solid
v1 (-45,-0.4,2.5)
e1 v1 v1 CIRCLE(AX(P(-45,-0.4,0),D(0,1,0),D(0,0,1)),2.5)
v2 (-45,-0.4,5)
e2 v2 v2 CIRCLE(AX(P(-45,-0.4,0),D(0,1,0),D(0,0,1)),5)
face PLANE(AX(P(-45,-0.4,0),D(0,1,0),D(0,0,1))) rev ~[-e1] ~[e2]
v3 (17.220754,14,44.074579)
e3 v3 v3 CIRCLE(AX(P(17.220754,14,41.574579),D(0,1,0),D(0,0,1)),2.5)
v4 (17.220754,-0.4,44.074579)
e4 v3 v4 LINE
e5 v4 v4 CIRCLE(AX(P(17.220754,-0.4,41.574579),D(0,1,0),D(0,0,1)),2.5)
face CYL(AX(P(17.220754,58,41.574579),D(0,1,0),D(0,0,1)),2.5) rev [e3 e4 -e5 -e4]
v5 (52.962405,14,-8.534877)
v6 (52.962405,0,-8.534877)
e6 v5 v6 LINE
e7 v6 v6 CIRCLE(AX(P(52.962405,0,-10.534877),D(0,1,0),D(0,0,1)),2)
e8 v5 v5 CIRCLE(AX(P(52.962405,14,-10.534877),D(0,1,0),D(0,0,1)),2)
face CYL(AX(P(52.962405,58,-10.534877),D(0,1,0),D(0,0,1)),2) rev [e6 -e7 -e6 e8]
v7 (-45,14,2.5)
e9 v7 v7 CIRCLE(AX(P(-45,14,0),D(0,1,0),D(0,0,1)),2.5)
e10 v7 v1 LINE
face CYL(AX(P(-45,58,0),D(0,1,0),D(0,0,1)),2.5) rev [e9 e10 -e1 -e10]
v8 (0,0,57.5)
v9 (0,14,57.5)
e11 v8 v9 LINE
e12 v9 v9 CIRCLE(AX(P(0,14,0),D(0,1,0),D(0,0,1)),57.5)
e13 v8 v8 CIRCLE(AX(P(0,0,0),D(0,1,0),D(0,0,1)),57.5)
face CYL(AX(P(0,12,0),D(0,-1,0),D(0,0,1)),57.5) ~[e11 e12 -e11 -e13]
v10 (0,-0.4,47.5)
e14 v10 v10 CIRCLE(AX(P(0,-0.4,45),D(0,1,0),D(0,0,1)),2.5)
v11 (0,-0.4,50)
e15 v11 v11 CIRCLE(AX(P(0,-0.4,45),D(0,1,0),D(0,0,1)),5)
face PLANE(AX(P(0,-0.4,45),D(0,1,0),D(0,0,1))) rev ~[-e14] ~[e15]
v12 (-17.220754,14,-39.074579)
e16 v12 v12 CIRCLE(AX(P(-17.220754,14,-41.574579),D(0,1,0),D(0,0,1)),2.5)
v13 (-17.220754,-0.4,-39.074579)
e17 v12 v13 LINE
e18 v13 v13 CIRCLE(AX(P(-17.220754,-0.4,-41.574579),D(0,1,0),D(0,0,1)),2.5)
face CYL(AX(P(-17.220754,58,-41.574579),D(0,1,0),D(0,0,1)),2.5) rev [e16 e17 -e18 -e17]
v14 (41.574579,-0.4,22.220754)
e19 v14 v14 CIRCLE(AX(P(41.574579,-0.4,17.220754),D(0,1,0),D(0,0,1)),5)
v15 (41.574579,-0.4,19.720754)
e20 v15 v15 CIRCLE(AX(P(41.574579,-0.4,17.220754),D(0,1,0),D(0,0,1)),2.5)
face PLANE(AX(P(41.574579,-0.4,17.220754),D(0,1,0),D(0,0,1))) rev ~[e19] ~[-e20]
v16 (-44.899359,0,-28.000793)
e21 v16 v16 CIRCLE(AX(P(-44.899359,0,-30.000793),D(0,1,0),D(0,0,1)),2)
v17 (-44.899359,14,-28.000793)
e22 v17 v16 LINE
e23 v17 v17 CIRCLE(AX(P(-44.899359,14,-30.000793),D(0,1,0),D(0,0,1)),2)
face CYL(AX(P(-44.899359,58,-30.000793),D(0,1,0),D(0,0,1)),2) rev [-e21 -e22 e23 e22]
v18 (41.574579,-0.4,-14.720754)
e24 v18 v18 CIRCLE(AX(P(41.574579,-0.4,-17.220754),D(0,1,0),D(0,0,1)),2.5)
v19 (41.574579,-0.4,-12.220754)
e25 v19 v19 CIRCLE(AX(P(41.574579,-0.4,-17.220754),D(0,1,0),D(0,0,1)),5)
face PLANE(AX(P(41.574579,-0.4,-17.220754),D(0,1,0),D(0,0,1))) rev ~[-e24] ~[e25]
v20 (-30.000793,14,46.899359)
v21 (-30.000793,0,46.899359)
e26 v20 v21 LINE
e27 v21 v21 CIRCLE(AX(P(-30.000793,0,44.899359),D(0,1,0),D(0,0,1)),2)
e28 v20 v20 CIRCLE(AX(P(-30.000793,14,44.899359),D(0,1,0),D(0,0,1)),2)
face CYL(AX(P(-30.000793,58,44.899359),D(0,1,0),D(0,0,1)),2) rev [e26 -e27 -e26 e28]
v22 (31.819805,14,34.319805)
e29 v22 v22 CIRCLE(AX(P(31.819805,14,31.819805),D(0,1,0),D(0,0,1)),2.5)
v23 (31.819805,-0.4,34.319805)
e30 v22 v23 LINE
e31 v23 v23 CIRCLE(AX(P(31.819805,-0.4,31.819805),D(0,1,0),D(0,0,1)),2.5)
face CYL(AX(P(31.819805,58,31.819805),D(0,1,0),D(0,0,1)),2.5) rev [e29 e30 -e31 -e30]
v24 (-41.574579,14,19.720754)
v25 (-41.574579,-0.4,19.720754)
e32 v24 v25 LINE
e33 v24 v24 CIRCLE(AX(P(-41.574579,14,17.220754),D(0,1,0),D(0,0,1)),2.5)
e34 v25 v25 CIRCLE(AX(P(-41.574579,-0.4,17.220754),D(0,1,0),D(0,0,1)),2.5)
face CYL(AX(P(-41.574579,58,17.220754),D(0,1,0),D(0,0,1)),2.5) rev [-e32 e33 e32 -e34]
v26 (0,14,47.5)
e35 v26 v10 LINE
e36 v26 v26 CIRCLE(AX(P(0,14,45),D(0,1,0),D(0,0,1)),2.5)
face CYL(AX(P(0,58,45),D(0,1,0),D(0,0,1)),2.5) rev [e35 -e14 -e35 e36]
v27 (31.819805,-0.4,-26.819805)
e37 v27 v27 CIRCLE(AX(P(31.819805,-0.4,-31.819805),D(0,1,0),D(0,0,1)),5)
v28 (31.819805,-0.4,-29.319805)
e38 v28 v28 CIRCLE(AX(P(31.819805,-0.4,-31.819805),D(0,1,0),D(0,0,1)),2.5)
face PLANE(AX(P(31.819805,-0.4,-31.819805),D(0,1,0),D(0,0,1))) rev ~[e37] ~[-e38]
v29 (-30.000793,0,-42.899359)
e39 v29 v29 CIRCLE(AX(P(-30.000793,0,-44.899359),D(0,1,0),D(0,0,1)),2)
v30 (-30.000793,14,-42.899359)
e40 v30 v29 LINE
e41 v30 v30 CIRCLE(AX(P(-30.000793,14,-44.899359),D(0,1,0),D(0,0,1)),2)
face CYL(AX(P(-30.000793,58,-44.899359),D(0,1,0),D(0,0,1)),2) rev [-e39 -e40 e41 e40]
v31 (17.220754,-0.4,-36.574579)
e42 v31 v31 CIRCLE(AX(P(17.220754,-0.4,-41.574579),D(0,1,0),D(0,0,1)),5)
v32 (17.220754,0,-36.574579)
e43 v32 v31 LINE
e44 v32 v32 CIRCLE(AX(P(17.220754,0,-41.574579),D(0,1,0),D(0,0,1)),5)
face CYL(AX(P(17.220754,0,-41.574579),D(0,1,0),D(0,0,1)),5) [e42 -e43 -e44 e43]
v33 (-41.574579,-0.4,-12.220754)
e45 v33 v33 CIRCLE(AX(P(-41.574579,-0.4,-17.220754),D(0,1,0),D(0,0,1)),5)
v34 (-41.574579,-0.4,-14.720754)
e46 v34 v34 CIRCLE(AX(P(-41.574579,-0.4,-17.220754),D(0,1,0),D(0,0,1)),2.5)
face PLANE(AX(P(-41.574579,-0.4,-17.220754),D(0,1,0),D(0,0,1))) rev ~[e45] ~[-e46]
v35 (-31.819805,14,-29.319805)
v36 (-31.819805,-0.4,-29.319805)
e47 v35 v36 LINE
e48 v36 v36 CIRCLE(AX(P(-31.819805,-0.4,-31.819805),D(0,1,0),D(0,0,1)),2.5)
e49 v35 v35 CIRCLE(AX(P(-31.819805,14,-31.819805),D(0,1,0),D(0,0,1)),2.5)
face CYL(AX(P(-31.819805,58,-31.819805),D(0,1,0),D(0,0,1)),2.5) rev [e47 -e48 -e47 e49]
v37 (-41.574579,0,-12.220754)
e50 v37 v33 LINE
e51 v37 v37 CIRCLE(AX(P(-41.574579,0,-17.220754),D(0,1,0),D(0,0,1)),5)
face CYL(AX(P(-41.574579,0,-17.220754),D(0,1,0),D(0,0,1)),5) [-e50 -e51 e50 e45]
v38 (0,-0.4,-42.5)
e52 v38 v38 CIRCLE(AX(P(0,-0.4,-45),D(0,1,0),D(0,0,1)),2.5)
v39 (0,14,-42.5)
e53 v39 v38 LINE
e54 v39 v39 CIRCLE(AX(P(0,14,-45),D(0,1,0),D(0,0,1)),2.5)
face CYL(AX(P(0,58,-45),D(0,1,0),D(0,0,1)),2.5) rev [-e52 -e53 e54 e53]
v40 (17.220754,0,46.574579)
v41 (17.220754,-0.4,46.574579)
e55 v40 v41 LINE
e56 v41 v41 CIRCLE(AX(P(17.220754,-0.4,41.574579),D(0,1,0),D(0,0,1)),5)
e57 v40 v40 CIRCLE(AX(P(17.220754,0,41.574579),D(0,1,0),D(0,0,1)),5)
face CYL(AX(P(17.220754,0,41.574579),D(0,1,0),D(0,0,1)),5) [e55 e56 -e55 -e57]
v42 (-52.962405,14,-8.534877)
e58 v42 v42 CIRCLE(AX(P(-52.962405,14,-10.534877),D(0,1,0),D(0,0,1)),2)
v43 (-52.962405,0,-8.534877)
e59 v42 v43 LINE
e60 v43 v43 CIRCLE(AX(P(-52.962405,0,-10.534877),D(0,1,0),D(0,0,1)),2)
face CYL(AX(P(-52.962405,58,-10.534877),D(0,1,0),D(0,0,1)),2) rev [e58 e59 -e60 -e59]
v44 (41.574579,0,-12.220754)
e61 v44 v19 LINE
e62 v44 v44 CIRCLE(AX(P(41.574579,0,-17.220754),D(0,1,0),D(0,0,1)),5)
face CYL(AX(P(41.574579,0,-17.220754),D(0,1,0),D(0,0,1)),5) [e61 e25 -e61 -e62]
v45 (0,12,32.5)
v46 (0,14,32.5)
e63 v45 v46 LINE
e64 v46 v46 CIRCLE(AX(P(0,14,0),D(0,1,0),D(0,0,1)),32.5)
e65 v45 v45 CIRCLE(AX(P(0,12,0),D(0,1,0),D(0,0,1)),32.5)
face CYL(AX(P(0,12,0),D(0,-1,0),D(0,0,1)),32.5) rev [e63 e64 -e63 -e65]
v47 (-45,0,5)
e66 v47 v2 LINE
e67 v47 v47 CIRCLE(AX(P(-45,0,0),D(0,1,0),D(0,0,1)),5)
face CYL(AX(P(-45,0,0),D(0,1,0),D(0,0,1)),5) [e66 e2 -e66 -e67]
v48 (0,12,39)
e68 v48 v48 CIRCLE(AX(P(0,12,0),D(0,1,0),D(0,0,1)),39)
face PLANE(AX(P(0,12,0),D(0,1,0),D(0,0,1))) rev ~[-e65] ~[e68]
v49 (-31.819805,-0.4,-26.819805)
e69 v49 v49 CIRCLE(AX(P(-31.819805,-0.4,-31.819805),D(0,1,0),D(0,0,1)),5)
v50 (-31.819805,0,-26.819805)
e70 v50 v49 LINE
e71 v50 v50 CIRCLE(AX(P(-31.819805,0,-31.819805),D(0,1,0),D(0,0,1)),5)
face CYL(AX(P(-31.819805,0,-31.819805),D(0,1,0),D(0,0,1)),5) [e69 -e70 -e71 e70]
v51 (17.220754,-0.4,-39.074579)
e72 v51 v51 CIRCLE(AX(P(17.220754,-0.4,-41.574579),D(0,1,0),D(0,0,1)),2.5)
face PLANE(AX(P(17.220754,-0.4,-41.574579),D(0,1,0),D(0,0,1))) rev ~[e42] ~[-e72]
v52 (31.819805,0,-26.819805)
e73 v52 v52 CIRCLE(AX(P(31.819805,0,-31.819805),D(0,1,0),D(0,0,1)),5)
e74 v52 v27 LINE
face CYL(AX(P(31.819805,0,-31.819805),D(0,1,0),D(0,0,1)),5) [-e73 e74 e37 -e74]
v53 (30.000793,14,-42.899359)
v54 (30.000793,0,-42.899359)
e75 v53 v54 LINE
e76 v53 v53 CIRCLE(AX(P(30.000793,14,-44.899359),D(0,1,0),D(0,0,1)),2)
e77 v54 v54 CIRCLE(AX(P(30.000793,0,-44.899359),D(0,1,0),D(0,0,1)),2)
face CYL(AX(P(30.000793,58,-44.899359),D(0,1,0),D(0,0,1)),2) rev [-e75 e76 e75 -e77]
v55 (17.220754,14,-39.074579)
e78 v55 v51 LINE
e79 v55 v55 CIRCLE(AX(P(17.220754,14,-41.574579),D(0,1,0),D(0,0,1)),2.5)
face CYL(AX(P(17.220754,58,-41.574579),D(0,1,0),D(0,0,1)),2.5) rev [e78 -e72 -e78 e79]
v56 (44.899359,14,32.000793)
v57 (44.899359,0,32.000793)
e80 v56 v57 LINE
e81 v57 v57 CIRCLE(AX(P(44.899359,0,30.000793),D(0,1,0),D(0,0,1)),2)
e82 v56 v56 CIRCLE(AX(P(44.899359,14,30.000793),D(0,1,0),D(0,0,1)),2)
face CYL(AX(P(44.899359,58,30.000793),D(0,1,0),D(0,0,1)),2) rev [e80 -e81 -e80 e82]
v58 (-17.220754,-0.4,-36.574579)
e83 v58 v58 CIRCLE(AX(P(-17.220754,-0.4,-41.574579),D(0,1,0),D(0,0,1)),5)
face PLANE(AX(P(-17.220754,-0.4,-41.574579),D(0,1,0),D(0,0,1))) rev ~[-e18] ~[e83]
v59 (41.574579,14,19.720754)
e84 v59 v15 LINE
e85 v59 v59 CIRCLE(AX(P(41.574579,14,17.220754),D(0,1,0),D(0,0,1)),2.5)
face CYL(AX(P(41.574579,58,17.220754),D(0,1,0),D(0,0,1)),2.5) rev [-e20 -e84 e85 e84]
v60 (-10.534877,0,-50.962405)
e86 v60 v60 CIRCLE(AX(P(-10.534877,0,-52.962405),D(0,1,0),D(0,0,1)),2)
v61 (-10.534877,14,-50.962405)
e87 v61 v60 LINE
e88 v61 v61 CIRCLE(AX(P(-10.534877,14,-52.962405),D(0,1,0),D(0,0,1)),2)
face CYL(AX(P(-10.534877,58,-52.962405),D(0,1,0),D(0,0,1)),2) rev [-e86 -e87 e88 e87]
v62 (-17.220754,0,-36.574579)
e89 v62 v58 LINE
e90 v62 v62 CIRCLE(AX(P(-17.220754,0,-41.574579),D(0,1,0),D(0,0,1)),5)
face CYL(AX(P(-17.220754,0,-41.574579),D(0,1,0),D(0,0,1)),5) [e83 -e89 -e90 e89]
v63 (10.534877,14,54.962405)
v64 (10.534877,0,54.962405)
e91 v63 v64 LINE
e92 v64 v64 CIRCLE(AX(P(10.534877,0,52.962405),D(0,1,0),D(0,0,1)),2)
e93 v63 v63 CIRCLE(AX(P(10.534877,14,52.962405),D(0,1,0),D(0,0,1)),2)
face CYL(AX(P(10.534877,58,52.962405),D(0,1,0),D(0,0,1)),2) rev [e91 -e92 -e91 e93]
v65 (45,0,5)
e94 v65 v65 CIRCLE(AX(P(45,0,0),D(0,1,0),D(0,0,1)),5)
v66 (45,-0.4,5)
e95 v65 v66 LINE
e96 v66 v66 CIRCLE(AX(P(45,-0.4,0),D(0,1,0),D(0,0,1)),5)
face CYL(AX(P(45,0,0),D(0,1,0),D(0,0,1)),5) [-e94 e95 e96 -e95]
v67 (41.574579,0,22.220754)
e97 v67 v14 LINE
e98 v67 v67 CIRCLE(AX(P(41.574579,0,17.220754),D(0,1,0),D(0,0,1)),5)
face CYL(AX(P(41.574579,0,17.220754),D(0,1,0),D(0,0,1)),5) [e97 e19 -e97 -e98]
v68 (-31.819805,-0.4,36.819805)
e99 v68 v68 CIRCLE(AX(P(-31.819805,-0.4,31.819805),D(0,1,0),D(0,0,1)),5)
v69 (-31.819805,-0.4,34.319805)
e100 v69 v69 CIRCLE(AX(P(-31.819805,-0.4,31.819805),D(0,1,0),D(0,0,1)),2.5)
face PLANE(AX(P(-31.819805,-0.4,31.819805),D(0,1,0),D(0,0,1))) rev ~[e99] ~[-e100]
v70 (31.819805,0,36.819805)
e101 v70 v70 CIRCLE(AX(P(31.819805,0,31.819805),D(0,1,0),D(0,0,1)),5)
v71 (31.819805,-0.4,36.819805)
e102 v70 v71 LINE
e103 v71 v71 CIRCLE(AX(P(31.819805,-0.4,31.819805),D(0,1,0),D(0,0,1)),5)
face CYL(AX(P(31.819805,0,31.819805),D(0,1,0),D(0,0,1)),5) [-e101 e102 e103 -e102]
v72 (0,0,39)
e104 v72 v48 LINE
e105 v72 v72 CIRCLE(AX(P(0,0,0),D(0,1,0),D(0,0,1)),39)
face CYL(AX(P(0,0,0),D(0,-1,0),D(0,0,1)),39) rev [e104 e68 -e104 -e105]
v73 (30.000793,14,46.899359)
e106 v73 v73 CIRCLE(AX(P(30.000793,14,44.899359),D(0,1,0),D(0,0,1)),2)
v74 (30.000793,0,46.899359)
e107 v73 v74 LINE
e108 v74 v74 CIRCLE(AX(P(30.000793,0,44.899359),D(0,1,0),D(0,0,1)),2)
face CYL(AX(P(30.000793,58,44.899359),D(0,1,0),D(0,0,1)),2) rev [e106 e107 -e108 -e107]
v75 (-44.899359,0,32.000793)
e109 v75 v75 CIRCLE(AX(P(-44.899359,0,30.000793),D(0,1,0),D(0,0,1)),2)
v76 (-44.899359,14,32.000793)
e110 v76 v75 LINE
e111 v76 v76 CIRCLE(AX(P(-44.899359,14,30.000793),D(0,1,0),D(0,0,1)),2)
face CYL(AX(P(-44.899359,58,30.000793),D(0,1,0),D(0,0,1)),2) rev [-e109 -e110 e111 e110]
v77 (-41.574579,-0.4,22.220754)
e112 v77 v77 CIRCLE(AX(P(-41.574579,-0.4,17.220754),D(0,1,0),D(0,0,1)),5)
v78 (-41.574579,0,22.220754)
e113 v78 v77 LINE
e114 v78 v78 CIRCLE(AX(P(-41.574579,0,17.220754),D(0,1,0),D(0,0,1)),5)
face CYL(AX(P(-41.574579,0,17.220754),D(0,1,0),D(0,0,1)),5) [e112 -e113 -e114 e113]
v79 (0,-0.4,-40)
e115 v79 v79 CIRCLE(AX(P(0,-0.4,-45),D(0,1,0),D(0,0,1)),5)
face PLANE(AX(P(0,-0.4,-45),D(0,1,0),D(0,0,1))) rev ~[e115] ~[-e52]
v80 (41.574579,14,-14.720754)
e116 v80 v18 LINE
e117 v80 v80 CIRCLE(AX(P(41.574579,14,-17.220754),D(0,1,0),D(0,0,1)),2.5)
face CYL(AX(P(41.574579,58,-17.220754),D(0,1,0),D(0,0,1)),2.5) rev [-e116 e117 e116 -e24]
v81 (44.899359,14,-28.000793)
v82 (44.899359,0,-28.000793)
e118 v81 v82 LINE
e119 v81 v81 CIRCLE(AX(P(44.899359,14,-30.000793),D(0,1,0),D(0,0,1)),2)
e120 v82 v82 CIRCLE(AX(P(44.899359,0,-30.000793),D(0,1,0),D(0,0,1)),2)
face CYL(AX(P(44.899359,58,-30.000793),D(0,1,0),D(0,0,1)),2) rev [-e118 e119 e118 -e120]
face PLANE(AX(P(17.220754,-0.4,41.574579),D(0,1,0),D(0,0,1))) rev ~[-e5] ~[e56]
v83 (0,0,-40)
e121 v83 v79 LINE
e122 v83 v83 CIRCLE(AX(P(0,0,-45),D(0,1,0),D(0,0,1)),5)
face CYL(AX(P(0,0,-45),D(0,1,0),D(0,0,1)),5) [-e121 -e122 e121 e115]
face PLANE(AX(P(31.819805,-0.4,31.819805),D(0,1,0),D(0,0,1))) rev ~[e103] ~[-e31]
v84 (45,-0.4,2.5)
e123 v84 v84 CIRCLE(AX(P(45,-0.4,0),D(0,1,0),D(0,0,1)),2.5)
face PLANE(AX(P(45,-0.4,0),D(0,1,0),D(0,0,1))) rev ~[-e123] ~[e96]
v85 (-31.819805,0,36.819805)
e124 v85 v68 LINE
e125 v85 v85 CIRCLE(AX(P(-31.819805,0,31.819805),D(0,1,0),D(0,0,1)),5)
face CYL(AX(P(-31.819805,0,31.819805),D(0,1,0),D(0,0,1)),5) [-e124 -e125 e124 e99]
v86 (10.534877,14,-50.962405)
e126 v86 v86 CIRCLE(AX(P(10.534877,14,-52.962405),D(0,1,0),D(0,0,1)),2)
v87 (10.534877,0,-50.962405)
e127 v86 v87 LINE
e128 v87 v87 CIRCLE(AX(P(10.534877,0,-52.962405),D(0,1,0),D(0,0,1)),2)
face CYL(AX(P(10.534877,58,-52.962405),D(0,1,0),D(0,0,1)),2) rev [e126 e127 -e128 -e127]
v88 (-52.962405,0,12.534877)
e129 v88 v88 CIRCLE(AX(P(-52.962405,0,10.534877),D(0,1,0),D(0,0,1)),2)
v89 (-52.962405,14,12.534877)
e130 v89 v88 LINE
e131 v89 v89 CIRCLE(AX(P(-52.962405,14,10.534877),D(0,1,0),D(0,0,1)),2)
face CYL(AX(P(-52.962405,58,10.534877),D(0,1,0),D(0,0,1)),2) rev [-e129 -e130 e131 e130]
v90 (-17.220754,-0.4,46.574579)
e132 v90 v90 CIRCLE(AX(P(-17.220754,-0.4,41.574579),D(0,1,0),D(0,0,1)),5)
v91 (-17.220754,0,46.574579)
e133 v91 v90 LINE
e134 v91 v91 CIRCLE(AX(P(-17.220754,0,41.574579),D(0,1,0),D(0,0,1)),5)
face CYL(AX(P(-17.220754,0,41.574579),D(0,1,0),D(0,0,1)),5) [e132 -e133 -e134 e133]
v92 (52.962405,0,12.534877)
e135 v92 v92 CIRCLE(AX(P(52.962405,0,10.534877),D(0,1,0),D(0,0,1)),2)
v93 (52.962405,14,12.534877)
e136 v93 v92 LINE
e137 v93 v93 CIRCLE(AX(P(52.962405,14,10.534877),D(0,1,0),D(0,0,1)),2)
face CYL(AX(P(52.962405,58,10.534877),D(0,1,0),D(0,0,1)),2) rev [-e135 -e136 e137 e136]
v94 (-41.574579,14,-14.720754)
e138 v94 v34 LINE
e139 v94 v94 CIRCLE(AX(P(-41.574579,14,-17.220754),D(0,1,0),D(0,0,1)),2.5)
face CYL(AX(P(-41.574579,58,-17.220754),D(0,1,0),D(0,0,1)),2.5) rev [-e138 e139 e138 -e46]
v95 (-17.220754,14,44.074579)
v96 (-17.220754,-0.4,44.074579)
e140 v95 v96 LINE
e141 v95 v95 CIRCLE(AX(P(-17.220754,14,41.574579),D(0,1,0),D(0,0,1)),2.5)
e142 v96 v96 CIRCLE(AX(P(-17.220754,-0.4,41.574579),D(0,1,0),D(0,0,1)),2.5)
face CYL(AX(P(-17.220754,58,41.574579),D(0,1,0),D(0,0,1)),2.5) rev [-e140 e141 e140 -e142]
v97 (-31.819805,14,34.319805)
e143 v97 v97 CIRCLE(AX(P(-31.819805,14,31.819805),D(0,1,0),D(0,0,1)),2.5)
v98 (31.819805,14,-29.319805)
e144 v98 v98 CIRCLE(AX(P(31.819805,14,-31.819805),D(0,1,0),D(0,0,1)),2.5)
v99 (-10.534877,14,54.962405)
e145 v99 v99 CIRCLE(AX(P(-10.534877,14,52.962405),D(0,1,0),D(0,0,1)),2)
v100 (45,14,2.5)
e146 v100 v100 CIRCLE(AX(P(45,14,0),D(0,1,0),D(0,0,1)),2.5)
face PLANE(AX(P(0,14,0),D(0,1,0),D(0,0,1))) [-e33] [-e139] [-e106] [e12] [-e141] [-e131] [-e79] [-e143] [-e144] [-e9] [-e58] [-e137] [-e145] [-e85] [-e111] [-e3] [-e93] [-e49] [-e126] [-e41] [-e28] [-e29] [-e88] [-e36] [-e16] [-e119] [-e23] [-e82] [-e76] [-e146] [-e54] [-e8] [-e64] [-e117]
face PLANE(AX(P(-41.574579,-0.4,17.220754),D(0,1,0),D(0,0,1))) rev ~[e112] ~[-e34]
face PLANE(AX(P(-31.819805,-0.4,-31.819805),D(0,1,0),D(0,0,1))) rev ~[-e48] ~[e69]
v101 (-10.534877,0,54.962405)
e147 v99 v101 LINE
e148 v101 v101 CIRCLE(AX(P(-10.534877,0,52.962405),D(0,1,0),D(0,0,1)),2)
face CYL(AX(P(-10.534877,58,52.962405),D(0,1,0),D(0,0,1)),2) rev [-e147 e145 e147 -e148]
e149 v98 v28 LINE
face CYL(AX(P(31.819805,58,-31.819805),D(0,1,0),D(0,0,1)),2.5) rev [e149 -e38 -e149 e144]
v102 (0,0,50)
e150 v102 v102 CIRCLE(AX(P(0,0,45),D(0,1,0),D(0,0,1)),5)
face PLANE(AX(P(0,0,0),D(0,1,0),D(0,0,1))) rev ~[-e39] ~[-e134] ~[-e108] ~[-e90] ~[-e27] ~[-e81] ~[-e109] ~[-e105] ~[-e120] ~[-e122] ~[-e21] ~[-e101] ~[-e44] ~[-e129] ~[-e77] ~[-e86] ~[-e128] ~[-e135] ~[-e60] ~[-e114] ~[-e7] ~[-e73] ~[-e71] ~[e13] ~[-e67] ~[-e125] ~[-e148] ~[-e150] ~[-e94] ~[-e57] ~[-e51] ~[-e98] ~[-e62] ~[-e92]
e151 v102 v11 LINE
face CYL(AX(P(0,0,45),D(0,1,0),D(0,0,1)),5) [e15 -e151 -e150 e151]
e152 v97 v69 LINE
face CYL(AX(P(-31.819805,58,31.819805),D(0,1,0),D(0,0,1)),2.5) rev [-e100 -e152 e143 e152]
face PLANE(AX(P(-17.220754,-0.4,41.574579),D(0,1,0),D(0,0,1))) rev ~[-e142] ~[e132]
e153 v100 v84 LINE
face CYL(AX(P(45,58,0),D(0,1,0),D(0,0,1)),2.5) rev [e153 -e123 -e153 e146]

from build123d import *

# Parameters (mm, degrees)
SKETCH1_R           = 57.5
SKETCH1_R_2         = 39
SKETCH1_R_3         = 2
BOSS_EXTRUDE1_DEPTH = 12
SKETCH2_R           = 2.5
CUT_EXTRUDE1_DEPTH  = 10
SKETCH4_R           = 5
SKETCH4_R_2         = 2.5
BOSS_EXTRUDE3_DEPTH = 0.4
SKETCH6_R           = 57.5
SKETCH6_R_2         = 32.5
BOSS_EXTRUDE4_DEPTH = 2
CUT_EXTRUDE2_START  = -58
SKETCH7_R           = 2.5
SKETCH7_R_2         = 2
CUT_EXTRUDE2_DEPTH  = 58


with BuildPart() as part:
    # Sketch1 → Boss-Extrude1 (new body)
    with BuildSketch(Plane(origin=(0, 0, 0), x_dir=(1, 0, 0), z_dir=(0, 1, 0))):
        with Locations(Location((0, 0, 0), (0, 0, 270))):
            Circle(SKETCH1_R)
        with Locations(Location((0, 0, 0), (0, 0, 270))):
            Circle(SKETCH1_R_2, mode=Mode.SUBTRACT)
        with Locations(Location((-10.534877389, 52.962405142, 0), (0, 0, 270))):
            Circle(SKETCH1_R_3, mode=Mode.SUBTRACT)
        with Locations(Location((10.534877389, 52.962405142, 0), (0, 0, 270))):
            Circle(SKETCH1_R_3, mode=Mode.SUBTRACT)
        with Locations(Location((30.000792583, 44.899359064, 0), (0, 0, 270))):
            Circle(SKETCH1_R_3, mode=Mode.SUBTRACT)
        with Locations(Location((44.899359064, 30.000792583, 0), (0, 0, 270))):
            Circle(SKETCH1_R_3, mode=Mode.SUBTRACT)
        with Locations(Location((52.962405142, 10.534877389, 0), (0, 0, 270))):
            Circle(SKETCH1_R_3, mode=Mode.SUBTRACT)
        with Locations(Location((52.962405142, -10.534877389, 0), (0, 0, 270))):
            Circle(SKETCH1_R_3, mode=Mode.SUBTRACT)
        with Locations(Location((44.899359064, -30.000792583, 0), (0, 0, 270))):
            Circle(SKETCH1_R_3, mode=Mode.SUBTRACT)
        with Locations(Location((30.000792583, -44.899359064, 0), (0, 0, 270))):
            Circle(SKETCH1_R_3, mode=Mode.SUBTRACT)
        with Locations(Location((10.534877389, -52.962405142, 0), (0, 0, 270))):
            Circle(SKETCH1_R_3, mode=Mode.SUBTRACT)
        with Locations(Location((-10.534877389, -52.962405142, 0), (0, 0, 270))):
            Circle(SKETCH1_R_3, mode=Mode.SUBTRACT)
        with Locations(Location((-30.000792583, -44.899359064, 0), (0, 0, 270))):
            Circle(SKETCH1_R_3, mode=Mode.SUBTRACT)
        with Locations(Location((-44.899359064, -30.000792583, 0), (0, 0, 270))):
            Circle(SKETCH1_R_3, mode=Mode.SUBTRACT)
        with Locations(Location((-52.962405142, -10.534877389, 0), (0, 0, 270))):
            Circle(SKETCH1_R_3, mode=Mode.SUBTRACT)
        with Locations(Location((-52.962405142, 10.534877389, 0), (0, 0, 270))):
            Circle(SKETCH1_R_3, mode=Mode.SUBTRACT)
        with Locations(Location((-44.899359064, 30.000792583, 0), (0, 0, 270))):
            Circle(SKETCH1_R_3, mode=Mode.SUBTRACT)
        with Locations(Location((-30.000792583, 44.899359064, 0), (0, 0, 270))):
            Circle(SKETCH1_R_3, mode=Mode.SUBTRACT)
    extrude(amount=BOSS_EXTRUDE1_DEPTH)

    # Sketch2 → Cut-Extrude1 (cut)
    with BuildSketch(Plane(origin=(0, 12, 0), x_dir=(1, 0, 0), z_dir=(0, 1, 0))):
        with Locations(Location((0, 45, 0), (0, 0, 270))):
            Circle(SKETCH2_R)
        with Locations(Location((17.220754456, 41.574578963, 0), (0, 0, 270))):
            Circle(SKETCH2_R)
        with Locations(Location((31.819805153, 31.819805153, 0), (0, 0, 270))):
            Circle(SKETCH2_R)
        with Locations(Location((41.574578963, 17.220754456, 0), (0, 0, 270))):
            Circle(SKETCH2_R)
        with Locations(Location((45, 0, 0), (0, 0, 270))):
            Circle(SKETCH2_R)
        with Locations(Location((41.574578963, -17.220754456, 0), (0, 0, 270))):
            Circle(SKETCH2_R)
        with Locations(Location((31.819805153, -31.819805153, 0), (0, 0, 270))):
            Circle(SKETCH2_R)
        with Locations(Location((17.220754456, -41.574578963, 0), (0, 0, 270))):
            Circle(SKETCH2_R)
        with Locations(Location((0, -45, 0), (0, 0, 270))):
            Circle(SKETCH2_R)
        with Locations(Location((-17.220754456, -41.574578963, 0), (0, 0, 270))):
            Circle(SKETCH2_R)
        with Locations(Location((-31.819805153, -31.819805153, 0), (0, 0, 270))):
            Circle(SKETCH2_R)
        with Locations(Location((-41.574578963, -17.220754456, 0), (0, 0, 270))):
            Circle(SKETCH2_R)
        with Locations(Location((-45, 0, 0), (0, 0, 270))):
            Circle(SKETCH2_R)
        with Locations(Location((-41.574578963, 17.220754456, 0), (0, 0, 270))):
            Circle(SKETCH2_R)
        with Locations(Location((-31.819805153, 31.819805153, 0), (0, 0, 270))):
            Circle(SKETCH2_R)
        with Locations(Location((-17.220754456, 41.574578963, 0), (0, 0, 270))):
            Circle(SKETCH2_R)
    extrude(amount=-CUT_EXTRUDE1_DEPTH, mode=Mode.SUBTRACT)

    # Sketch4 → Boss-Extrude3 (add)
    # profile 1 of 16: a face of its own
    with BuildSketch(Plane(origin=(0, 0, 0), x_dir=(1, 0, 0), z_dir=(0, 1, 0))):
        with Locations(Location((0, 45, 0), (0, 0, 270))):
            Circle(SKETCH4_R)
        with Locations(Location((0, 45, 0), (0, 0, 270))):
            Circle(SKETCH4_R_2, mode=Mode.SUBTRACT)
    # profile 2 of 16: a face of its own
    with BuildSketch(Plane(origin=(0, 0, 0), x_dir=(1, 0, 0), z_dir=(0, 1, 0))):
        with Locations(Location((17.220754456, 41.574578963, 0), (0, 0, 270))):
            Circle(SKETCH4_R)
        with Locations(Location((17.220754456, 41.574578963, 0), (0, 0, 270))):
            Circle(SKETCH4_R_2, mode=Mode.SUBTRACT)
    # profile 3 of 16: a face of its own
    with BuildSketch(Plane(origin=(0, 0, 0), x_dir=(1, 0, 0), z_dir=(0, 1, 0))):
        with Locations(Location((31.819805153, 31.819805153, 0), (0, 0, 270))):
            Circle(SKETCH4_R)
        with Locations(Location((31.819805153, 31.819805153, 0), (0, 0, 270))):
            Circle(SKETCH4_R_2, mode=Mode.SUBTRACT)
    # profile 4 of 16: a face of its own
    with BuildSketch(Plane(origin=(0, 0, 0), x_dir=(1, 0, 0), z_dir=(0, 1, 0))):
        with Locations(Location((41.574578963, 17.220754456, 0), (0, 0, 270))):
            Circle(SKETCH4_R)
        with Locations(Location((41.574578963, 17.220754456, 0), (0, 0, 270))):
            Circle(SKETCH4_R_2, mode=Mode.SUBTRACT)
    # profile 5 of 16: a face of its own
    with BuildSketch(Plane(origin=(0, 0, 0), x_dir=(1, 0, 0), z_dir=(0, 1, 0))):
        with Locations(Location((45, 0, 0), (0, 0, 270))):
            Circle(SKETCH4_R)
        with Locations(Location((45, 0, 0), (0, 0, 270))):
            Circle(SKETCH4_R_2, mode=Mode.SUBTRACT)
    # profile 6 of 16: a face of its own
    with BuildSketch(Plane(origin=(0, 0, 0), x_dir=(1, 0, 0), z_dir=(0, 1, 0))):
        with Locations(Location((41.574578963, -17.220754456, 0), (0, 0, 270))):
            Circle(SKETCH4_R)
        with Locations(Location((41.574578963, -17.220754456, 0), (0, 0, 270))):
            Circle(SKETCH4_R_2, mode=Mode.SUBTRACT)
    # profile 7 of 16: a face of its own
    with BuildSketch(Plane(origin=(0, 0, 0), x_dir=(1, 0, 0), z_dir=(0, 1, 0))):
        with Locations(Location((31.819805153, -31.819805153, 0), (0, 0, 270))):
            Circle(SKETCH4_R)
        with Locations(Location((31.819805153, -31.819805153, 0), (0, 0, 270))):
            Circle(SKETCH4_R_2, mode=Mode.SUBTRACT)
    # profile 8 of 16: a face of its own
    with BuildSketch(Plane(origin=(0, 0, 0), x_dir=(1, 0, 0), z_dir=(0, 1, 0))):
        with Locations(Location((17.220754456, -41.574578963, 0), (0, 0, 270))):
            Circle(SKETCH4_R)
        with Locations(Location((17.220754456, -41.574578963, 0), (0, 0, 270))):
            Circle(SKETCH4_R_2, mode=Mode.SUBTRACT)
    # profile 9 of 16: a face of its own
    with BuildSketch(Plane(origin=(0, 0, 0), x_dir=(1, 0, 0), z_dir=(0, 1, 0))):
        with Locations(Location((0, -45, 0), (0, 0, 270))):
            Circle(SKETCH4_R)
        with Locations(Location((0, -45, 0), (0, 0, 270))):
            Circle(SKETCH4_R_2, mode=Mode.SUBTRACT)
    # profile 10 of 16: a face of its own
    with BuildSketch(Plane(origin=(0, 0, 0), x_dir=(1, 0, 0), z_dir=(0, 1, 0))):
        with Locations(Location((-17.220754456, -41.574578963, 0), (0, 0, 270))):
            Circle(SKETCH4_R)
        with Locations(Location((-17.220754456, -41.574578963, 0), (0, 0, 270))):
            Circle(SKETCH4_R_2, mode=Mode.SUBTRACT)
    # profile 11 of 16: a face of its own
    with BuildSketch(Plane(origin=(0, 0, 0), x_dir=(1, 0, 0), z_dir=(0, 1, 0))):
        with Locations(Location((-31.819805153, -31.819805153, 0), (0, 0, 270))):
            Circle(SKETCH4_R)
        with Locations(Location((-31.819805153, -31.819805153, 0), (0, 0, 270))):
            Circle(SKETCH4_R_2, mode=Mode.SUBTRACT)
    # profile 12 of 16: a face of its own
    with BuildSketch(Plane(origin=(0, 0, 0), x_dir=(1, 0, 0), z_dir=(0, 1, 0))):
        with Locations(Location((-41.574578963, -17.220754456, 0), (0, 0, 270))):
            Circle(SKETCH4_R)
        with Locations(Location((-41.574578963, -17.220754456, 0), (0, 0, 270))):
            Circle(SKETCH4_R_2, mode=Mode.SUBTRACT)
    # profile 13 of 16: a face of its own
    with BuildSketch(Plane(origin=(0, 0, 0), x_dir=(1, 0, 0), z_dir=(0, 1, 0))):
        with Locations(Location((-45, 0, 0), (0, 0, 270))):
            Circle(SKETCH4_R)
        with Locations(Location((-45, 0, 0), (0, 0, 270))):
            Circle(SKETCH4_R_2, mode=Mode.SUBTRACT)
    # profile 14 of 16: a face of its own
    with BuildSketch(Plane(origin=(0, 0, 0), x_dir=(1, 0, 0), z_dir=(0, 1, 0))):
        with Locations(Location((-41.574578963, 17.220754456, 0), (0, 0, 270))):
            Circle(SKETCH4_R)
        with Locations(Location((-41.574578963, 17.220754456, 0), (0, 0, 270))):
            Circle(SKETCH4_R_2, mode=Mode.SUBTRACT)
    # profile 15 of 16: a face of its own
    with BuildSketch(Plane(origin=(0, 0, 0), x_dir=(1, 0, 0), z_dir=(0, 1, 0))):
        with Locations(Location((-31.819805153, 31.819805153, 0), (0, 0, 270))):
            Circle(SKETCH4_R)
        with Locations(Location((-31.819805153, 31.819805153, 0), (0, 0, 270))):
            Circle(SKETCH4_R_2, mode=Mode.SUBTRACT)
    # profile 16 of 16: a face of its own
    with BuildSketch(Plane(origin=(0, 0, 0), x_dir=(1, 0, 0), z_dir=(0, 1, 0))):
        with Locations(Location((-17.220754456, 41.574578963, 0), (0, 0, 270))):
            Circle(SKETCH4_R)
        with Locations(Location((-17.220754456, 41.574578963, 0), (0, 0, 270))):
            Circle(SKETCH4_R_2, mode=Mode.SUBTRACT)
    extrude(amount=-BOSS_EXTRUDE3_DEPTH)

    # Sketch6 → Boss-Extrude4 (add)
    with BuildSketch(Plane(origin=(0, 12, 0), x_dir=(1, 0, 0), z_dir=(0, 1, 0))):
        with Locations(Location((0, 0, 0), (0, 0, 270))):
            Circle(SKETCH6_R)
        with Locations(Location((0, 0, 0), (0, 0, 270))):
            Circle(SKETCH6_R_2, mode=Mode.SUBTRACT)
    extrude(amount=BOSS_EXTRUDE4_DEPTH)

    # Sketch7 → Cut-Extrude2 (cut)
    with BuildSketch(Plane.XZ.offset(CUT_EXTRUDE2_START)):
        with Locations(Location((0, 45, 0), (0, 0, 90))):
            Circle(SKETCH7_R)
        with Locations(Location((17.220754456, 41.574578963, 0), (0, 0, 90))):
            Circle(SKETCH7_R)
        with Locations(Location((31.819805153, 31.819805153, 0), (0, 0, 90))):
            Circle(SKETCH7_R)
        with Locations(Location((41.574578963, 17.220754456, 0), (0, 0, 90))):
            Circle(SKETCH7_R)
        with Locations(Location((45, 0, 0), (0, 0, 90))):
            Circle(SKETCH7_R)
        with Locations(Location((41.574578963, -17.220754456, 0), (0, 0, 90))):
            Circle(SKETCH7_R)
        with Locations(Location((31.819805153, -31.819805153, 0), (0, 0, 90))):
            Circle(SKETCH7_R)
        with Locations(Location((17.220754456, -41.574578963, 0), (0, 0, 90))):
            Circle(SKETCH7_R)
        with Locations(Location((0, -45, 0), (0, 0, 90))):
            Circle(SKETCH7_R)
        with Locations(Location((-17.220754456, -41.574578963, 0), (0, 0, 90))):
            Circle(SKETCH7_R)
        with Locations(Location((-31.819805153, -31.819805153, 0), (0, 0, 90))):
            Circle(SKETCH7_R)
        with Locations(Location((-41.574578963, -17.220754456, 0), (0, 0, 90))):
            Circle(SKETCH7_R)
        with Locations(Location((-45, 0, 0), (0, 0, 90))):
            Circle(SKETCH7_R)
        with Locations(Location((-41.574578963, 17.220754456, 0), (0, 0, 90))):
            Circle(SKETCH7_R)
        with Locations(Location((-31.819805153, 31.819805153, 0), (0, 0, 90))):
            Circle(SKETCH7_R)
        with Locations(Location((-17.220754456, 41.574578963, 0), (0, 0, 90))):
            Circle(SKETCH7_R)
        with Locations(Location((30.000792583, 44.899359064, 0), (0, 0, 90))):
            Circle(SKETCH7_R_2)
        with Locations(Location((44.899359064, 30.000792583, 0), (0, 0, 90))):
            Circle(SKETCH7_R_2)
        with Locations(Location((52.962405142, 10.534877389, 0), (0, 0, 90))):
            Circle(SKETCH7_R_2)
        with Locations(Location((52.962405142, -10.534877389, 0), (0, 0, 90))):
            Circle(SKETCH7_R_2)
        with Locations(Location((44.899359064, -30.000792583, 0), (0, 0, 90))):
            Circle(SKETCH7_R_2)
        with Locations(Location((30.000792583, -44.899359064, 0), (0, 0, 90))):
            Circle(SKETCH7_R_2)
        with Locations(Location((10.534877389, -52.962405142, 0), (0, 0, 90))):
            Circle(SKETCH7_R_2)
        with Locations(Location((-10.534877389, -52.962405142, 0), (0, 0, 90))):
            Circle(SKETCH7_R_2)
        with Locations(Location((-30.000792583, -44.899359064, 0), (0, 0, 90))):
            Circle(SKETCH7_R_2)
        with Locations(Location((-44.899359064, -30.000792583, 0), (0, 0, 90))):
            Circle(SKETCH7_R_2)
        with Locations(Location((-52.962405142, -10.534877389, 0), (0, 0, 90))):
            Circle(SKETCH7_R_2)
        with Locations(Location((-52.962405142, 10.534877389, 0), (0, 0, 90))):
            Circle(SKETCH7_R_2)
        with Locations(Location((-44.899359064, 30.000792583, 0), (0, 0, 90))):
            Circle(SKETCH7_R_2)
        with Locations(Location((-30.000792583, 44.899359064, 0), (0, 0, 90))):
            Circle(SKETCH7_R_2)
        with Locations(Location((-10.534877389, 52.962405142, 0), (0, 0, 90))):
            Circle(SKETCH7_R_2)
        with Locations(Location((10.534877389, 52.962405142, 0), (0, 0, 90))):
            Circle(SKETCH7_R_2)
    extrude(amount=CUT_EXTRUDE2_DEPTH, mode=Mode.SUBTRACT)


solid = part.part
